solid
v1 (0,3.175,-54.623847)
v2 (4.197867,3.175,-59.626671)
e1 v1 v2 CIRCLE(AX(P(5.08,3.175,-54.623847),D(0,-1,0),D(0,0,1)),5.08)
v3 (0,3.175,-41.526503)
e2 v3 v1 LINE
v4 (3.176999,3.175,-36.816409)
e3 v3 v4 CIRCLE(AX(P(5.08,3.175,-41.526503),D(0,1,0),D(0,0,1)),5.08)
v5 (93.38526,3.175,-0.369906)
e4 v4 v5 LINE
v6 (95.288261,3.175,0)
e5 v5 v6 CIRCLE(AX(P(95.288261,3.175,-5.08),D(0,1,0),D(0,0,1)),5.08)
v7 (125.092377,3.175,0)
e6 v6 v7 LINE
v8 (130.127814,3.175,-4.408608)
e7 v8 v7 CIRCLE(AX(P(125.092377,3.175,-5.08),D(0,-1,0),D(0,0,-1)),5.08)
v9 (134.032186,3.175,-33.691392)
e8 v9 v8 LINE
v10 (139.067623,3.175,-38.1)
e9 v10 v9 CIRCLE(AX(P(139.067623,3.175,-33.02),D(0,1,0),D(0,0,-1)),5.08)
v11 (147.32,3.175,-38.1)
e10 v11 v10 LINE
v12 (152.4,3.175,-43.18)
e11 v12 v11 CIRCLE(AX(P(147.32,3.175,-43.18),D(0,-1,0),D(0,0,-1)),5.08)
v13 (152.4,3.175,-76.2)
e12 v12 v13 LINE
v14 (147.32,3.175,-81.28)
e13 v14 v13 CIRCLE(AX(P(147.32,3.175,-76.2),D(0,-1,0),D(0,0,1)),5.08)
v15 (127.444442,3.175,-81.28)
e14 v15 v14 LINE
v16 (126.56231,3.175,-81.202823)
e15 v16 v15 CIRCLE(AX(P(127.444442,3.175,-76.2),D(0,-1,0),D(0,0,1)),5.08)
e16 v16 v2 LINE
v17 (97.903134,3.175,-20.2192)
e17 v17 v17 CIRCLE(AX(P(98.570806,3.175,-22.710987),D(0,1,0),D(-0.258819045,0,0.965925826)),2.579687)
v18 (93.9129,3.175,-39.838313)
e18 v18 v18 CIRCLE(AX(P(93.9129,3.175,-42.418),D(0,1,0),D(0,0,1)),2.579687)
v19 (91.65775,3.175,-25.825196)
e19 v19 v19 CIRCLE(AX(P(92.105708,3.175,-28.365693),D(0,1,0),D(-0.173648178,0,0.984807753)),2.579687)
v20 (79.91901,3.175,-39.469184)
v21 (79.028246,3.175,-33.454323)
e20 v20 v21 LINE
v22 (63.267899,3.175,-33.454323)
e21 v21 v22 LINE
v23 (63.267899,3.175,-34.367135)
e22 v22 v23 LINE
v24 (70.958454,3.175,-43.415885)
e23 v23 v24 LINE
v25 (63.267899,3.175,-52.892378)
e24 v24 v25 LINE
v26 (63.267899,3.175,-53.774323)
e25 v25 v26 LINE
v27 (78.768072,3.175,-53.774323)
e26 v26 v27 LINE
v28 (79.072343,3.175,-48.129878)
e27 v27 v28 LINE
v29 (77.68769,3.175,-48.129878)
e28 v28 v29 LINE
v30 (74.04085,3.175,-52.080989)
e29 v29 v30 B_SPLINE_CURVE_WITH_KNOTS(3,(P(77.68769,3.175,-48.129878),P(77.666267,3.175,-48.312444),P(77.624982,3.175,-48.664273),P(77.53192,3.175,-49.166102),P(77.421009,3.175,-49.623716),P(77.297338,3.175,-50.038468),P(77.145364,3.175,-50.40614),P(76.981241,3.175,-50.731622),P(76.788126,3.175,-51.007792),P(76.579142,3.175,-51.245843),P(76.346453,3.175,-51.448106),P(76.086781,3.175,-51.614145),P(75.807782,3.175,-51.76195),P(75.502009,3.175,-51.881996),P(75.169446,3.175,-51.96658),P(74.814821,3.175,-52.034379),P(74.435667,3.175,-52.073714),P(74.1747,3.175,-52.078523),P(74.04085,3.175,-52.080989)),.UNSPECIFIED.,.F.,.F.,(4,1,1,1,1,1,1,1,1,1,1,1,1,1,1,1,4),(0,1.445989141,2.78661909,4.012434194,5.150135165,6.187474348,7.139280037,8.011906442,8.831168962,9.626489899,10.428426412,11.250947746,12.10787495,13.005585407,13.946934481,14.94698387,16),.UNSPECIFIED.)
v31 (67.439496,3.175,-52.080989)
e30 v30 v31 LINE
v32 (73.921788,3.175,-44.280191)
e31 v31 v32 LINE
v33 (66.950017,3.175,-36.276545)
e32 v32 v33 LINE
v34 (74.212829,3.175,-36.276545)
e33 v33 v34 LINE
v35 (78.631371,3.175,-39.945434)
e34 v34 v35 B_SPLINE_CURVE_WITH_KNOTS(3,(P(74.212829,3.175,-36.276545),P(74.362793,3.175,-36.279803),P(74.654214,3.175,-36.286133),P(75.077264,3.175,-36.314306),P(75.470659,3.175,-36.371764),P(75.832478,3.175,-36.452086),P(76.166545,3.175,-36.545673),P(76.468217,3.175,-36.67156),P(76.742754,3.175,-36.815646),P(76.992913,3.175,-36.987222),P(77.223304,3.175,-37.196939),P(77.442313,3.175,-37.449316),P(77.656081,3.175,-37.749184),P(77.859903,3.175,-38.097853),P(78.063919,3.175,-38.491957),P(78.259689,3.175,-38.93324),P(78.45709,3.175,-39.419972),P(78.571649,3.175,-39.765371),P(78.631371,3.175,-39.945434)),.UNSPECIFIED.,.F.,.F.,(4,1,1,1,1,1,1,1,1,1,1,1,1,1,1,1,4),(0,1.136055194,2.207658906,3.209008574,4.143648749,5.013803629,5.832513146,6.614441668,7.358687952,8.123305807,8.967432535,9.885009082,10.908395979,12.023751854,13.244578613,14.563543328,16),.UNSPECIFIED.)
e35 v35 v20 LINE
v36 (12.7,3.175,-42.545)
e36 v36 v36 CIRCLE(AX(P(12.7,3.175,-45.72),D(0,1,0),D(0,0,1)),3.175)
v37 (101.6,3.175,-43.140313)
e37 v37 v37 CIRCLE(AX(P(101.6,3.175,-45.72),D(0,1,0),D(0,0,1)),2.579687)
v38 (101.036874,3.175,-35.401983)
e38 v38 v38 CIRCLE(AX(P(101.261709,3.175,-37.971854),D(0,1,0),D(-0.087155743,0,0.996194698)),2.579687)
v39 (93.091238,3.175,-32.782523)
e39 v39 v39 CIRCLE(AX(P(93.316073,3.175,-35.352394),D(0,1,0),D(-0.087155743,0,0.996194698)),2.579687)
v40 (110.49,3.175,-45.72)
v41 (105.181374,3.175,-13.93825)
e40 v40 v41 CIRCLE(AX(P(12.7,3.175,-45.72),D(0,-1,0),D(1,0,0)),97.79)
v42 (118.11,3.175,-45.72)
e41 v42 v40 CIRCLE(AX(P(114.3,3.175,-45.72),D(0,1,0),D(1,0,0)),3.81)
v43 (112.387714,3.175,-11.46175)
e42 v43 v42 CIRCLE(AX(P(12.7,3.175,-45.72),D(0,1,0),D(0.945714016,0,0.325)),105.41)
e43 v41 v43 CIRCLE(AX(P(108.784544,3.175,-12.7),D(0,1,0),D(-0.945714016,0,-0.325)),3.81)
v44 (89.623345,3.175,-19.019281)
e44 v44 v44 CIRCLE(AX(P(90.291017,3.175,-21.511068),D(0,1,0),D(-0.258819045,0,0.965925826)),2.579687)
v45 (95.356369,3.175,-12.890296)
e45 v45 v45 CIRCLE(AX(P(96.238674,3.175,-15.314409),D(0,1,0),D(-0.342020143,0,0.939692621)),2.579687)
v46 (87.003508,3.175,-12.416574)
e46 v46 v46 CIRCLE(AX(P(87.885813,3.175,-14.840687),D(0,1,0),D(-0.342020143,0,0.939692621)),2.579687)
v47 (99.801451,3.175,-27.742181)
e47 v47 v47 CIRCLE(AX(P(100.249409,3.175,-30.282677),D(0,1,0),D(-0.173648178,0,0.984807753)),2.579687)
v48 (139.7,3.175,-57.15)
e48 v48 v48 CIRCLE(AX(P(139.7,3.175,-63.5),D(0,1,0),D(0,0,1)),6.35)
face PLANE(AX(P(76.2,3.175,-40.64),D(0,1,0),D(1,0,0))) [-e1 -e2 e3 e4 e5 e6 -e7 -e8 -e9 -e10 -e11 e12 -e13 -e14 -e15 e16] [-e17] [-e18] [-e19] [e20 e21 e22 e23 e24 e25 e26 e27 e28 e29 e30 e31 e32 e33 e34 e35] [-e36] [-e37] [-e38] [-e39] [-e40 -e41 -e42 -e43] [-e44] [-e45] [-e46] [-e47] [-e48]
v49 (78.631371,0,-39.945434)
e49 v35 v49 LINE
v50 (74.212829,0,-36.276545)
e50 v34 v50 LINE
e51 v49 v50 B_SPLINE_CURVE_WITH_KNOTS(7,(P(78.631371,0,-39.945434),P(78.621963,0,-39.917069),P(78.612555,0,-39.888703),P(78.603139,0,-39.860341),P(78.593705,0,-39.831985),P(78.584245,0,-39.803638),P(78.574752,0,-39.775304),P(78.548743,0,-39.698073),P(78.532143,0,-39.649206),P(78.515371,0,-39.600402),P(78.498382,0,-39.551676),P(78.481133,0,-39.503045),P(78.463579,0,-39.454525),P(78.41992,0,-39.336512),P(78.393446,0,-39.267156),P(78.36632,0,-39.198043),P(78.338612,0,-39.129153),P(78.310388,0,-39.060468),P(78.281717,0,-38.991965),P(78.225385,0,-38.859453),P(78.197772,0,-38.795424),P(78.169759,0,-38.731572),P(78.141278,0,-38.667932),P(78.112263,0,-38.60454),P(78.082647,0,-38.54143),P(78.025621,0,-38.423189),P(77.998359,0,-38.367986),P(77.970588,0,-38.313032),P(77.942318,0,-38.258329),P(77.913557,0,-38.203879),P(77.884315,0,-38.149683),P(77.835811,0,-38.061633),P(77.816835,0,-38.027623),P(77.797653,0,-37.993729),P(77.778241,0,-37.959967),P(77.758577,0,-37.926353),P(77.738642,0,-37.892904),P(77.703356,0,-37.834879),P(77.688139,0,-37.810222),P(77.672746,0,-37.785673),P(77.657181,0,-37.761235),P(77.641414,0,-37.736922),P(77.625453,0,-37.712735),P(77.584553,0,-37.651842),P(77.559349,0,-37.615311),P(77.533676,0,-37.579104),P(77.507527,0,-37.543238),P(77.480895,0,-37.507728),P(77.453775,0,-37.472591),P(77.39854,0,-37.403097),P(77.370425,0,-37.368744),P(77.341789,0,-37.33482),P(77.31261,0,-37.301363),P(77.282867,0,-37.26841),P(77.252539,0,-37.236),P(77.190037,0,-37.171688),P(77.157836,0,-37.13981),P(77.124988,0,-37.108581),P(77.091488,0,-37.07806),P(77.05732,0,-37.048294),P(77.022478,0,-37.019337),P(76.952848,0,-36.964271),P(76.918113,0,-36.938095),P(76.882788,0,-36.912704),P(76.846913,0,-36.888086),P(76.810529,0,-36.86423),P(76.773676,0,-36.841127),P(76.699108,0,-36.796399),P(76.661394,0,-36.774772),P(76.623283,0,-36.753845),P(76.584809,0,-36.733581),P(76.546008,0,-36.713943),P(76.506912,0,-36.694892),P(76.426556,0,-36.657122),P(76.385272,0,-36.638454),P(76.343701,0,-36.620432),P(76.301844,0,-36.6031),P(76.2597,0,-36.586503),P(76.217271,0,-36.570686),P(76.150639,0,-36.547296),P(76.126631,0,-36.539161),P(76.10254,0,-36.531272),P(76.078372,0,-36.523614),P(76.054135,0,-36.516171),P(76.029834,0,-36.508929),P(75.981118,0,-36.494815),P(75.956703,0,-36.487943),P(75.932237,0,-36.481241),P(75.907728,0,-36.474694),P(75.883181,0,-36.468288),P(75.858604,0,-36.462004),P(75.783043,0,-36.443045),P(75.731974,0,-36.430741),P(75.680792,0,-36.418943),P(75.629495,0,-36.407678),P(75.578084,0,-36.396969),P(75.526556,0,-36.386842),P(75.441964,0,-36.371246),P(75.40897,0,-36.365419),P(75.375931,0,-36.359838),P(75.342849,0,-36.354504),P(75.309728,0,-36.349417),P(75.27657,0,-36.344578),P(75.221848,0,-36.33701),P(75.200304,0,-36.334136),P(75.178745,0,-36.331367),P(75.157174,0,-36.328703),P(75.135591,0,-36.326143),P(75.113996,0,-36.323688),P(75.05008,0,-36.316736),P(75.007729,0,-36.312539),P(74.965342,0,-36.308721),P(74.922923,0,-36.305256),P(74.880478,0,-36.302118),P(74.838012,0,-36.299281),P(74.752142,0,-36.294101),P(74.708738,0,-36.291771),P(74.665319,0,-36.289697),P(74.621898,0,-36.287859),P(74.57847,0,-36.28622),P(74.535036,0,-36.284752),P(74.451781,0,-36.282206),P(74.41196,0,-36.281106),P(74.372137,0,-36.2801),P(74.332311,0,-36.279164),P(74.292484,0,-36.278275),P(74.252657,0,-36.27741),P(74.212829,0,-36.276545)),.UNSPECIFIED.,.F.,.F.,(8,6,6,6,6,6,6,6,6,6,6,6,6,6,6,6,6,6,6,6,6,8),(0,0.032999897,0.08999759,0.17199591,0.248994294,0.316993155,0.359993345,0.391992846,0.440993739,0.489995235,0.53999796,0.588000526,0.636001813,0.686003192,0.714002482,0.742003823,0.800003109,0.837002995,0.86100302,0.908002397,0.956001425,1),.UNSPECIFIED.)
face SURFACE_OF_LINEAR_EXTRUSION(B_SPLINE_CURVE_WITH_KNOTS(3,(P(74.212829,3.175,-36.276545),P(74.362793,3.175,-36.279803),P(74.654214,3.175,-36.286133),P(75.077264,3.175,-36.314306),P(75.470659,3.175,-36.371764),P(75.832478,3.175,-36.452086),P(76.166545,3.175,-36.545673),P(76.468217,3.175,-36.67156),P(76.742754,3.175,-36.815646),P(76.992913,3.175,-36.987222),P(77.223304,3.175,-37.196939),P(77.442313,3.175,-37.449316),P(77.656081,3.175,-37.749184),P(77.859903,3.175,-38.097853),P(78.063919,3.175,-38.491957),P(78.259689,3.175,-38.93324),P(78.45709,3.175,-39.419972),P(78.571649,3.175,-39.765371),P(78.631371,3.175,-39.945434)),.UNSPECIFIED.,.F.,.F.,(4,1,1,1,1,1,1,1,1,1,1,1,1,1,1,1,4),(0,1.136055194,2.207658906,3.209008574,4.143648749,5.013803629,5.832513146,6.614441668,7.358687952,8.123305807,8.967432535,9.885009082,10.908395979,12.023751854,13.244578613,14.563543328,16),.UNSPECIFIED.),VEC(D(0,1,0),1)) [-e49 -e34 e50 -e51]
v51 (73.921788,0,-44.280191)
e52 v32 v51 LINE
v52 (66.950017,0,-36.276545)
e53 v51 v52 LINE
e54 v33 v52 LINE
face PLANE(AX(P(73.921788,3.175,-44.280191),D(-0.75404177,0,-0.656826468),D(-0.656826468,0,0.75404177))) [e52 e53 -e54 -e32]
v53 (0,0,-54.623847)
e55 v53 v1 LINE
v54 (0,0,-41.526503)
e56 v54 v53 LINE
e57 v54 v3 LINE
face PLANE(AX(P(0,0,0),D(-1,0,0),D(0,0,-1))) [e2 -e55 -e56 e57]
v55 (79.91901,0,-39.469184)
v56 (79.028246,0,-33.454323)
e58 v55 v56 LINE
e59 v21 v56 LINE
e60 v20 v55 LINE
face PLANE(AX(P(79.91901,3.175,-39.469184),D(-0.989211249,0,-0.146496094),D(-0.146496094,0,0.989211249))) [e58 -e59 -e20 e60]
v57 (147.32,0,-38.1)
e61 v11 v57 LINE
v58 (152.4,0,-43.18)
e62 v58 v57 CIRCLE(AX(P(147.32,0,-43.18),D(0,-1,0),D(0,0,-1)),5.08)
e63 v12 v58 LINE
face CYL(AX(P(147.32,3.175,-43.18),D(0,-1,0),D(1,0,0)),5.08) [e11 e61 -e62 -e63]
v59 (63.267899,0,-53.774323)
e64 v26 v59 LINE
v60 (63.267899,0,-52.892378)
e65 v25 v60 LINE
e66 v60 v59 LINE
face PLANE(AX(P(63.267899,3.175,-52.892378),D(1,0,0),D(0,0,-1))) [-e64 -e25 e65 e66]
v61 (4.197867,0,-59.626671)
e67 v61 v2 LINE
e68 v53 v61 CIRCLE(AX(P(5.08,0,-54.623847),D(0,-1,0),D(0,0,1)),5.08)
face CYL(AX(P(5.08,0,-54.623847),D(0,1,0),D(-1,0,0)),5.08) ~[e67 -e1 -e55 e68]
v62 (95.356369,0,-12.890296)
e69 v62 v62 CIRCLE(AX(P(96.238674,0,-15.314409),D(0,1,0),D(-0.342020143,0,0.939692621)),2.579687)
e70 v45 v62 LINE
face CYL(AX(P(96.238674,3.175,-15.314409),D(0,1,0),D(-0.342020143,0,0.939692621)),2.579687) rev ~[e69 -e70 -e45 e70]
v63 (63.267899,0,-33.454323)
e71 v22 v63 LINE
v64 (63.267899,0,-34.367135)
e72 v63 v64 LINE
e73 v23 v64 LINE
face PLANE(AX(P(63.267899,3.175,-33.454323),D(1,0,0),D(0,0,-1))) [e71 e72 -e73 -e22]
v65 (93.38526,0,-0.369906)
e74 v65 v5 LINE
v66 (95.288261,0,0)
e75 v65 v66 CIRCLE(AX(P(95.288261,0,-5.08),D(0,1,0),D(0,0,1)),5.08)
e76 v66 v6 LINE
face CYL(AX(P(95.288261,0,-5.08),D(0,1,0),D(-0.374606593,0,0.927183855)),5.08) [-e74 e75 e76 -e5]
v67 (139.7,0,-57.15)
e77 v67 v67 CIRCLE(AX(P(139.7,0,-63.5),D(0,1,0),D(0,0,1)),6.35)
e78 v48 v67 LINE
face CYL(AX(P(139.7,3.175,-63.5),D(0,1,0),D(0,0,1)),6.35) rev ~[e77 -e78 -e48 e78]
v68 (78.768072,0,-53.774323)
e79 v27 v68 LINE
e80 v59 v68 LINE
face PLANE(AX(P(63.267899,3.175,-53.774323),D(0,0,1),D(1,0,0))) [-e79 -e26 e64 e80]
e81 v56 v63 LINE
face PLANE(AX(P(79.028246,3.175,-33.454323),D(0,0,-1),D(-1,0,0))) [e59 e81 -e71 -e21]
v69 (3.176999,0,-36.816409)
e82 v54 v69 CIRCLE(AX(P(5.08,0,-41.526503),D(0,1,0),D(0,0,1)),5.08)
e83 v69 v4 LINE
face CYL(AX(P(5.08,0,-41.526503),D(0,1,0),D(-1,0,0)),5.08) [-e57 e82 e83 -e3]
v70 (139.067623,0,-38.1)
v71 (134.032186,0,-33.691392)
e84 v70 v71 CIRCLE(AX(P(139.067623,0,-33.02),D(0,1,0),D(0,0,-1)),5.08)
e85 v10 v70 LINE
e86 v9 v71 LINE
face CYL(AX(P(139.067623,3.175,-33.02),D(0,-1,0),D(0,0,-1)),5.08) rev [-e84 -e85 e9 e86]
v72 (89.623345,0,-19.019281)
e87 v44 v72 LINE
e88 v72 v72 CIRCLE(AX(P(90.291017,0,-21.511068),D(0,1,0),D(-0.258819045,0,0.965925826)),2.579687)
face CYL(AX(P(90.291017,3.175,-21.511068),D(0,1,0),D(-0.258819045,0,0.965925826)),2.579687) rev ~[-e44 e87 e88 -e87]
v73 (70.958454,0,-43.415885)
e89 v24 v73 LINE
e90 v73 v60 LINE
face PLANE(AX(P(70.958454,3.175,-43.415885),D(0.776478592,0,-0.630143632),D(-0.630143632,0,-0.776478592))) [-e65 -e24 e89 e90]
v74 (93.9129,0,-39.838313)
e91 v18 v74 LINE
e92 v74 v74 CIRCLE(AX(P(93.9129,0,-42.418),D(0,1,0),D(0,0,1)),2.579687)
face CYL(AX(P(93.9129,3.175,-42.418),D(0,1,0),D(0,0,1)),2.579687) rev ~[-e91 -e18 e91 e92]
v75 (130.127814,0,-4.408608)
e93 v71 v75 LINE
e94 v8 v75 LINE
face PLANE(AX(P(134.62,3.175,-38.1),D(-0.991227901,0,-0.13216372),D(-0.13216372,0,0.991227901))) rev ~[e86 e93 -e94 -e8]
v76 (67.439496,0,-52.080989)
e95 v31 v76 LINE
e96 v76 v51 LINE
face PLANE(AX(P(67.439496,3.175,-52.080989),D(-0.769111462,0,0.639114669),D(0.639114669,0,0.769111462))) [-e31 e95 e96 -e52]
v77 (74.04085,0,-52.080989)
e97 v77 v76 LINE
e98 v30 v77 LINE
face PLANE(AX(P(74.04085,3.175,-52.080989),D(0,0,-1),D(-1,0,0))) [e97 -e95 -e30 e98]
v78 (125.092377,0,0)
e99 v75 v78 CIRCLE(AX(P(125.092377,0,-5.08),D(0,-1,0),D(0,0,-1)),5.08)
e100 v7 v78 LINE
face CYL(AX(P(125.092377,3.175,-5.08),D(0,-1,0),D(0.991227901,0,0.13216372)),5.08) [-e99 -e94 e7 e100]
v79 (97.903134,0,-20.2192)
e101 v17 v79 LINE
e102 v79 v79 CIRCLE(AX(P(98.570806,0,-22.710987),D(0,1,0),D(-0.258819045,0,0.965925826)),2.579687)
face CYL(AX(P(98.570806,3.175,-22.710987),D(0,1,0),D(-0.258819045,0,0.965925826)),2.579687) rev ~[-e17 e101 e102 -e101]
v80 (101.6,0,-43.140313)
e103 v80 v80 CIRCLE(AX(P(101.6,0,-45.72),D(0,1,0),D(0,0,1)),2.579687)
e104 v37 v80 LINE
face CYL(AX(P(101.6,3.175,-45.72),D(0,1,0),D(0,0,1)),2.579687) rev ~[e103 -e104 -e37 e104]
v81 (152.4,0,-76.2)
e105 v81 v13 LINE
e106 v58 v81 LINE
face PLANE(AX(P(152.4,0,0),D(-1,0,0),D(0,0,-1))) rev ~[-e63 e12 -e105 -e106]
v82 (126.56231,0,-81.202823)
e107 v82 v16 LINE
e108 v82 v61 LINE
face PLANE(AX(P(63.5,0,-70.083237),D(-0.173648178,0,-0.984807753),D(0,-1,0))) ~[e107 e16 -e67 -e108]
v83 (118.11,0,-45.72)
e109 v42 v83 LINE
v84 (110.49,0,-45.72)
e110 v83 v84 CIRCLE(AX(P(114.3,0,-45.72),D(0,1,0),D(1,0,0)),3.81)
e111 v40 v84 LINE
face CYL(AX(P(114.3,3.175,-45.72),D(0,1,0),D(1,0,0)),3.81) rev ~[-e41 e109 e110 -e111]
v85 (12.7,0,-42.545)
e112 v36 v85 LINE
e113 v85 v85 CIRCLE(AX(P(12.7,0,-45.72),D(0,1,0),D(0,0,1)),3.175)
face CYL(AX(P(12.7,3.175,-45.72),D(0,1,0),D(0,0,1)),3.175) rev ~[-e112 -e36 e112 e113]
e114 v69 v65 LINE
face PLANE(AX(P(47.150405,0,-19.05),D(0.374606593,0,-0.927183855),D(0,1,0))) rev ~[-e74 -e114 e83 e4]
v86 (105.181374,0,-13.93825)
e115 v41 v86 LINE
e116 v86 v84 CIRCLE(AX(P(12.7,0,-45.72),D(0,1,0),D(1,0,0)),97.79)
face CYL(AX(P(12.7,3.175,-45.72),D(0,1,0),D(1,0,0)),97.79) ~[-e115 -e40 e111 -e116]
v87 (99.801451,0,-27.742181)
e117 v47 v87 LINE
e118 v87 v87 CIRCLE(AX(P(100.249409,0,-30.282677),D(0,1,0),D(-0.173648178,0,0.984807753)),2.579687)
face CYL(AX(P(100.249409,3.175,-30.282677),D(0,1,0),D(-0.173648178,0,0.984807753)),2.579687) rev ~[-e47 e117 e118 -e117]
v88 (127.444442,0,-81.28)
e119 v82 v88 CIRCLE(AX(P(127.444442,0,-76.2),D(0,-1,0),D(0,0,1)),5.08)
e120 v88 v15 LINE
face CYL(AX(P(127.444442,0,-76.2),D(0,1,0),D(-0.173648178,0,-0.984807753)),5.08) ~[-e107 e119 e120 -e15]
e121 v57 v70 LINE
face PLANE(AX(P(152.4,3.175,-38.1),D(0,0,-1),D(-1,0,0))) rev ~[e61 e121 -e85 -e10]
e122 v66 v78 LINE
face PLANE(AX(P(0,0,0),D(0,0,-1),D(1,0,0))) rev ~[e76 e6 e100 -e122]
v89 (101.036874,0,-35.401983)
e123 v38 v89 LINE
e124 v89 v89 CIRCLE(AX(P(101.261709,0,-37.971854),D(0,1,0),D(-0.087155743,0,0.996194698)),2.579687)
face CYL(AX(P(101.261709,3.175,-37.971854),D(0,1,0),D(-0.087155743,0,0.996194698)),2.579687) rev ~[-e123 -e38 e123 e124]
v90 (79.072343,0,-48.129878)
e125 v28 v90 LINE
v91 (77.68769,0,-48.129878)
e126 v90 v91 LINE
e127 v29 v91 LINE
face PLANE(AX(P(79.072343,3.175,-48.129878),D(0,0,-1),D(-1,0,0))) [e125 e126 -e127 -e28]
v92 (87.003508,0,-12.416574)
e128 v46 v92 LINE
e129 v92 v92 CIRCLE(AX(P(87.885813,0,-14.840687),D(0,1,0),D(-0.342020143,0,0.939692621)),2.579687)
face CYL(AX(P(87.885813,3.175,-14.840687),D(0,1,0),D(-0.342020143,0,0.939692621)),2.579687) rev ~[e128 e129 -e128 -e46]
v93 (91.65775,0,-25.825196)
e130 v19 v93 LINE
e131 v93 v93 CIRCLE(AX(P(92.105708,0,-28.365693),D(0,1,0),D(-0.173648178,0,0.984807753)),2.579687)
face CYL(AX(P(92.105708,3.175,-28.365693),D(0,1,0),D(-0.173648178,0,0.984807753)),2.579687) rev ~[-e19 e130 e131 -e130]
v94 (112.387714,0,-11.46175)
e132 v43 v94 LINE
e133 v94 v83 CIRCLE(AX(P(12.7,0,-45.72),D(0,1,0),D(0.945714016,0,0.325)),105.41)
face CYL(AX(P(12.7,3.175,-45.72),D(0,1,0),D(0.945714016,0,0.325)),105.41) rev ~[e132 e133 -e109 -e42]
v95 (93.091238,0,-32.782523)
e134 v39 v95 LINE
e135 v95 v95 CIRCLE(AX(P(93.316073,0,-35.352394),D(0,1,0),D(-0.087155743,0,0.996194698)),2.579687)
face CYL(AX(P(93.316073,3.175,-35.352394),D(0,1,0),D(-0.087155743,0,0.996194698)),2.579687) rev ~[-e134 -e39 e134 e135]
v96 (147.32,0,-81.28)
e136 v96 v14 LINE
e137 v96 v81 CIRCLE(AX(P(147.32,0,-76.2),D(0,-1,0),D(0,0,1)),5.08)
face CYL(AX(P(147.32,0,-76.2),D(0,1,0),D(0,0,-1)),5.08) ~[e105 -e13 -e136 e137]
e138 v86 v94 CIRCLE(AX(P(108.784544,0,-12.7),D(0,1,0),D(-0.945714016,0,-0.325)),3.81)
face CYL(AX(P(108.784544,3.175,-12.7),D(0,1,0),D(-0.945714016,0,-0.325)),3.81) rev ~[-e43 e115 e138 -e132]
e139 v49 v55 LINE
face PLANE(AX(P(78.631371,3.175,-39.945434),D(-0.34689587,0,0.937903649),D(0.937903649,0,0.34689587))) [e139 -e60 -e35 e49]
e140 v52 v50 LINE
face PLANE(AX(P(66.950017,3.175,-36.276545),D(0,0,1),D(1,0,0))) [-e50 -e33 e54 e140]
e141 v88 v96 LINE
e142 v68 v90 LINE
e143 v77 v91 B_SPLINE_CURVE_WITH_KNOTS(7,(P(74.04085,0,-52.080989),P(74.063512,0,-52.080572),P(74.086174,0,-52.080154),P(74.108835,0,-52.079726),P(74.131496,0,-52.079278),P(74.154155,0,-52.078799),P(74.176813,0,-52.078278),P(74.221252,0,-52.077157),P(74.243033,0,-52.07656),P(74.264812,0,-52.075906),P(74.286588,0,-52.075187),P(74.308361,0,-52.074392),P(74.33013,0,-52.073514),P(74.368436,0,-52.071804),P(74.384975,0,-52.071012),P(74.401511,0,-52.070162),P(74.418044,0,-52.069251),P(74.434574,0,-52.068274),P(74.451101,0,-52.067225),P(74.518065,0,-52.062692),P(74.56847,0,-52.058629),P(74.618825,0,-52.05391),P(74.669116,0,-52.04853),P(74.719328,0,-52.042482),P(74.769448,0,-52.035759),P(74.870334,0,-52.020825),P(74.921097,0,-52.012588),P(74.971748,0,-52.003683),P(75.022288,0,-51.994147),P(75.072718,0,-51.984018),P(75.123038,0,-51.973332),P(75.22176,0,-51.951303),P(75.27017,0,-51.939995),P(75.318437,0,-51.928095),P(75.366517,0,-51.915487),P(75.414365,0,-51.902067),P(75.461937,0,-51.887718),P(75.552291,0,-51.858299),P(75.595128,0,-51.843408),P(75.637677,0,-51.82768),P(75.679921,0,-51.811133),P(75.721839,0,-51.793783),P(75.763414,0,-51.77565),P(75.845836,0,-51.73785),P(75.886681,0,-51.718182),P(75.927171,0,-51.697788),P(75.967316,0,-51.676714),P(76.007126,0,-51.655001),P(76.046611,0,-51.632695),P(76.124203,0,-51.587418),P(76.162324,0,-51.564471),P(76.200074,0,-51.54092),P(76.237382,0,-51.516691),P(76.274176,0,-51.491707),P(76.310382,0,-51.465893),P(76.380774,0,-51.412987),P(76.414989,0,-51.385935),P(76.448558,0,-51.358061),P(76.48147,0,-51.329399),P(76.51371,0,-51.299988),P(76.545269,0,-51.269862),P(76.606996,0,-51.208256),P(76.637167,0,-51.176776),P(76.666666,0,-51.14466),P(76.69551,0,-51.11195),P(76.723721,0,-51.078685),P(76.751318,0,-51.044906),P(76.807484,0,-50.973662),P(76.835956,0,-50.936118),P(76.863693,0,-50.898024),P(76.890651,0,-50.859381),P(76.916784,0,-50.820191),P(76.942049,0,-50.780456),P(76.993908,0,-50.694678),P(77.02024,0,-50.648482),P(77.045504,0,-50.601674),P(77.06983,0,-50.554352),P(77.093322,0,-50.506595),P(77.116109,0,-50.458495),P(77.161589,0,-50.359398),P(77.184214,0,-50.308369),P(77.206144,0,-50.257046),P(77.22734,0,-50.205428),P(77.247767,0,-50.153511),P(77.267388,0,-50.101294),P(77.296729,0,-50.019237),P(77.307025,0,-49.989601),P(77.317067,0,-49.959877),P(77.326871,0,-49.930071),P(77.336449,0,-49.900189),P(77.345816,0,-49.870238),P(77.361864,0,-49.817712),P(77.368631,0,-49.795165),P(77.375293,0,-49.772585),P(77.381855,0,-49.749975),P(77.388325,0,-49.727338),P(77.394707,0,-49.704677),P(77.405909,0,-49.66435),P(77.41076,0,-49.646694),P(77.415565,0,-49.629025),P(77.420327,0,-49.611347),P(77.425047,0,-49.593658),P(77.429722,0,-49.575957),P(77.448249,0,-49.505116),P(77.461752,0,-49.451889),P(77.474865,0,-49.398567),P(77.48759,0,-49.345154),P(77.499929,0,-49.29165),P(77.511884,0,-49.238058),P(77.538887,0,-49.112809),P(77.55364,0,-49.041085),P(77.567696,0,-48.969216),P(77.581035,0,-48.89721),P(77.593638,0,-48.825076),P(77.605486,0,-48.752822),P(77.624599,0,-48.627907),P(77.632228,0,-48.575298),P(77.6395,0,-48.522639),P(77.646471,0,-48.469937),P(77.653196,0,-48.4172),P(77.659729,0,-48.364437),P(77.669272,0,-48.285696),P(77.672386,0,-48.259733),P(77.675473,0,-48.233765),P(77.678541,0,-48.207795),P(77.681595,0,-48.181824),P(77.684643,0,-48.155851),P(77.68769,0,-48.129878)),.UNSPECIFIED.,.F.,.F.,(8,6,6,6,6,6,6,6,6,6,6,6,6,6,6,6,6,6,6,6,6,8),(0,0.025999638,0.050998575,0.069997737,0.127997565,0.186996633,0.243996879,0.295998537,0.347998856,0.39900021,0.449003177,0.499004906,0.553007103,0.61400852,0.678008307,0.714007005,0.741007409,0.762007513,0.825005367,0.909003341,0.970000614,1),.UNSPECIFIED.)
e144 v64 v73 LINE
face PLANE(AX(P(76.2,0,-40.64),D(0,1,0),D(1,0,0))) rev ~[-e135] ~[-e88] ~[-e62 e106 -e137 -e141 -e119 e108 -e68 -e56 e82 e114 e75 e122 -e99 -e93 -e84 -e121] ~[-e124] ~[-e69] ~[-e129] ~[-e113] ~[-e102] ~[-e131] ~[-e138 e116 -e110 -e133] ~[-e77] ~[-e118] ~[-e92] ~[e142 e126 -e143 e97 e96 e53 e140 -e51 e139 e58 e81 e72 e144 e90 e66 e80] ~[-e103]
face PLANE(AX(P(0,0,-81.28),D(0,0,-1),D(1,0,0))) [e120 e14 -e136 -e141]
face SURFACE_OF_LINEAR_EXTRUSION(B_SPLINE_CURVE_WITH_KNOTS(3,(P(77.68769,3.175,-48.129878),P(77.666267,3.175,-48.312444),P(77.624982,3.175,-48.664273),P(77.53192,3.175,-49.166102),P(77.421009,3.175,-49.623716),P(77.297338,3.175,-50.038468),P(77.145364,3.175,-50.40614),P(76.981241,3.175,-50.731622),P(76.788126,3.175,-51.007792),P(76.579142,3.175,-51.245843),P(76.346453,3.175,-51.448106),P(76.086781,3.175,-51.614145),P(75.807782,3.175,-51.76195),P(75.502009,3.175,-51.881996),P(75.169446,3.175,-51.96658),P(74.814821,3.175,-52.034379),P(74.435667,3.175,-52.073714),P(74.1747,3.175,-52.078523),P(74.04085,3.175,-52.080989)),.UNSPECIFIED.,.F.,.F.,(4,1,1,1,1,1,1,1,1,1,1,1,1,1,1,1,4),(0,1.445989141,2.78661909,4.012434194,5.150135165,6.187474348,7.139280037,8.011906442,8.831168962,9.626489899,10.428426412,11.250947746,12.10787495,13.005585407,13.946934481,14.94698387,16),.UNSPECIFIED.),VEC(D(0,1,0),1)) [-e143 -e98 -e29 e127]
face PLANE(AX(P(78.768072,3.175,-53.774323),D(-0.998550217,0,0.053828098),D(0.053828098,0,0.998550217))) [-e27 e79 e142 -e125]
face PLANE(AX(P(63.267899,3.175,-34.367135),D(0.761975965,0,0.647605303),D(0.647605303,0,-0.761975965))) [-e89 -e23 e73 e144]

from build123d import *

# Parameters (mm, degrees)
SKETCH1_W           = 152.4
SKETCH1_H           = 81.28
BOSS_EXTRUDE1_DEPTH = 3.175
SKETCH2_R           = 3.175
SKETCH2_R_2         = 6.35
CUT_EXTRUDE1_DEPTH  = 173.74917952
CHAMFER1_SIZE       = 38.1
CHAMFER1_SIZE2      = 94.300809115
CHAMFER2_SIZE       = 127
CHAMFER2_SIZE2      = 22.39352655
CUT_EXTRUDE2_DEPTH  = 173.74917952
FILLET1_R           = 5.08
CUT_EXTRUDE3_DEPTH  = 173.74917952
SKETCH5_R           = 2.5796875
CUT_EXTRUDE4_DEPTH  = 173.749179658
CIRPATTERN1_COUNT   = 5
CIRPATTERN1_ANGLE   = 20


with BuildPart() as part:
    # Sketch1 → Boss-Extrude1 (new body)
    with BuildSketch(Plane(origin=(0, 0, 0), x_dir=(1, 0, 0), z_dir=(0, 1, 0))):
        with Locations((76.2, 40.64)):
            Rectangle(SKETCH1_W, SKETCH1_H)
    extrude(amount=BOSS_EXTRUDE1_DEPTH)

    # Sketch2 → Cut-Extrude1 (cut, through all)
    with BuildSketch(Plane(origin=(0, 3.175, 0), x_dir=(1, 0, 0), z_dir=(0, 1, 0))):
        with Locations(Location((12.7, 45.72, 0), (0, 0, 270))):
            Circle(SKETCH2_R)
        with Locations(Location((139.7, 63.5, 0), (0, 0, 270))):
            Circle(SKETCH2_R_2)
        with BuildLine():
            ThreePointArc((118.11, 45.72), (114.3, 49.53), (110.49, 45.72))
            ThreePointArc((110.49, 45.72), (109.15371332, 29.608970028), (105.181373622, 13.93825))
            ThreePointArc((105.181373622, 13.93825), (107.546294022, 9.096829599), (112.387714423, 11.46175))
            ThreePointArc((112.387714423, 11.46175), (116.669587085, 28.353565095), (118.11, 45.72))
        make_face()
    extrude(amount=-CUT_EXTRUDE1_DEPTH, mode=Mode.SUBTRACT)

    # Chamfer1
    chamfer1_edges = [part.edges().sort_by_distance(p)[0] for p in [
        (0, 1.5875, 0),
    ]]
    chamfer1_side = [part.faces().sort_by_distance(p)[0] for p in [
        (0, 1.5875, -40.64),
    ]]
    chamfer(chamfer1_edges, length=CHAMFER1_SIZE, length2=CHAMFER1_SIZE2, reference=chamfer1_side[0])

    # Chamfer2
    chamfer2_edges = [part.edges().sort_by_distance(p)[0] for p in [
        (0, 1.5875, -81.28),
    ]]
    chamfer2_side = [part.faces().sort_by_distance(p)[0] for p in [
        (76.2, 1.5875, -81.28),
    ]]
    chamfer(chamfer2_edges, length=CHAMFER2_SIZE, length2=CHAMFER2_SIZE2, reference=chamfer2_side[0])

    # Sketch3 → Cut-Extrude2 (cut, through all)
    with BuildSketch(Plane(origin=(0, 3.175, 0), x_dir=(1, 0, 0), z_dir=(0, 1, 0))):
        Polygon((134.62, 38.1), (129.54, 0), (152.4, 0), (152.4, 38.1), align=None)
    extrude(amount=-CUT_EXTRUDE2_DEPTH, mode=Mode.SUBTRACT)

    # Fillet1
    fillet1_edges = [part.edges().sort_by_distance(p)[0] for p in [
        (94.300809115, 1.5875, 0),
        (0, 1.5875, -38.1),
        (0, 1.5875, -58.88647345),
        (127, 1.5875, -81.28),
        (152.4, 1.5875, -38.1),
        (129.54, 1.5875, 0),
        (134.62, 1.5875, -38.1),
        (152.4, 1.5875, -81.28),
    ]]
    fillet(fillet1_edges, radius=FILLET1_R)

    # Sketch4 → Cut-Extrude3 (cut, through all)
    with BuildSketch(Plane(origin=(0, 3.175, 0), x_dir=(1, 0, 0), z_dir=(0, 1, 0))):
        with BuildLine():
            Line((79.02824603, 33.454322708), (63.267898808, 33.454322708))
            Line((63.267898808, 33.454322708), (63.267898808, 34.367135208))
            Line((63.267898808, 34.367135208), (70.958454364, 43.415885208))
            Line((70.958454364, 43.415885208), (63.267898808, 52.892378263))
            Line((63.267898808, 52.892378263), (63.267898808, 53.774322708))
            Line((63.267898808, 53.774322708), (78.768072419, 53.774322708))
            Line((78.768072419, 53.774322708), (79.072343253, 48.129878263))
            Line((79.072343253, 48.129878263), (77.687690475, 48.129878263))
            add(Edge.make_bspline(
                [(77.687690475, 48.129878263), (77.666267335, 48.312443932), (77.624982011, 48.664272977), (77.531920072, 49.166102178), (77.421008935, 49.62371596), (77.297338484, 50.038468153), (77.145364304, 50.406140244), (76.981241456, 50.731622206), (76.788125584, 51.007791949), (76.57914231, 51.245843364), (76.346452552, 51.448106373), (76.086781148, 51.614145073), (75.807782072, 51.761949969), (75.502009403, 51.881996436), (75.169445928, 51.96657961), (74.814820872, 52.034378559), (74.435667298, 52.073714003), (74.174700115, 52.078522896), (74.040850197, 52.080989374)],
                knots=[0, 0, 0, 0, 1.445989141, 2.78661909, 4.012434194, 5.150135165, 6.187474348, 7.139280037, 8.011906442, 8.831168962, 9.626489899, 10.428426412, 11.250947746, 12.10787495, 13.005585407, 13.946934481, 14.94698387, 16, 16, 16, 16], degree=3))
            Line((74.040850197, 52.080989374), (67.43949603, 52.080989374))
            Line((67.43949603, 52.080989374), (73.921787697, 44.280190763))
            Line((73.921787697, 44.280190763), (66.950016864, 36.27654493))
            Line((66.950016864, 36.27654493), (74.212829364, 36.27654493))
            add(Edge.make_bspline(
                [(74.212829364, 36.27654493), (74.36279346, 36.279802671), (74.654213785, 36.286133332), (75.077264171, 36.314305601), (75.470658519, 36.371763784), (75.832477573, 36.452086018), (76.16654489, 36.545672831), (76.468216936, 36.671559846), (76.742753798, 36.815646486), (76.99291299, 36.987221798), (77.223304318, 37.196939313), (77.442312889, 37.449316269), (77.65608094, 37.749183515), (77.859903069, 38.097852765), (78.063918522, 38.491956646), (78.259688528, 38.933240259), (78.457090359, 39.41997208), (78.571649199, 39.765370609), (78.63137103, 39.945433819)],
                knots=[0, 0, 0, 0, 1.136055194, 2.207658906, 3.209008574, 4.143648749, 5.013803629, 5.832513146, 6.614441668, 7.358687952, 8.123305807, 8.967432535, 9.885009082, 10.908395979, 12.023751854, 13.244578613, 14.563543328, 16, 16, 16, 16], degree=3))
            Line((78.63137103, 39.945433819), (79.919009919, 39.469183819))
            Line((79.919009919, 39.469183819), (79.02824603, 33.454322708))
        make_face()
    extrude(amount=-CUT_EXTRUDE3_DEPTH, mode=Mode.SUBTRACT)

    # Sketch5 → Cut-Extrude4 (cut, through all)
    with BuildSketch(Plane(origin=(0, 3.175, 0), x_dir=(1, 0, 0), z_dir=(0, 1, 0))):
        with Locations(Location((101.6, 45.72, 0), (0, 0, 270))):
            Circle(SKETCH5_R)
        with Locations(Location((93.912900428, 42.418, 0), (0, 0, 270))):
            Circle(SKETCH5_R)
    cut_extrude4 = extrude(amount=-CUT_EXTRUDE4_DEPTH, mode=Mode.SUBTRACT)

    # CirPattern1: Cut-Extrude4 ×5 about axis
    cirpattern1_axis = Axis((12.7, 0, -45.72), (0, -1, 0))
    for i in range(1, CIRPATTERN1_COUNT):
        add(cut_extrude4.rotate(cirpattern1_axis, i * CIRPATTERN1_ANGLE / (CIRPATTERN1_COUNT - 1)), mode=Mode.SUBTRACT)


solid = part.part
